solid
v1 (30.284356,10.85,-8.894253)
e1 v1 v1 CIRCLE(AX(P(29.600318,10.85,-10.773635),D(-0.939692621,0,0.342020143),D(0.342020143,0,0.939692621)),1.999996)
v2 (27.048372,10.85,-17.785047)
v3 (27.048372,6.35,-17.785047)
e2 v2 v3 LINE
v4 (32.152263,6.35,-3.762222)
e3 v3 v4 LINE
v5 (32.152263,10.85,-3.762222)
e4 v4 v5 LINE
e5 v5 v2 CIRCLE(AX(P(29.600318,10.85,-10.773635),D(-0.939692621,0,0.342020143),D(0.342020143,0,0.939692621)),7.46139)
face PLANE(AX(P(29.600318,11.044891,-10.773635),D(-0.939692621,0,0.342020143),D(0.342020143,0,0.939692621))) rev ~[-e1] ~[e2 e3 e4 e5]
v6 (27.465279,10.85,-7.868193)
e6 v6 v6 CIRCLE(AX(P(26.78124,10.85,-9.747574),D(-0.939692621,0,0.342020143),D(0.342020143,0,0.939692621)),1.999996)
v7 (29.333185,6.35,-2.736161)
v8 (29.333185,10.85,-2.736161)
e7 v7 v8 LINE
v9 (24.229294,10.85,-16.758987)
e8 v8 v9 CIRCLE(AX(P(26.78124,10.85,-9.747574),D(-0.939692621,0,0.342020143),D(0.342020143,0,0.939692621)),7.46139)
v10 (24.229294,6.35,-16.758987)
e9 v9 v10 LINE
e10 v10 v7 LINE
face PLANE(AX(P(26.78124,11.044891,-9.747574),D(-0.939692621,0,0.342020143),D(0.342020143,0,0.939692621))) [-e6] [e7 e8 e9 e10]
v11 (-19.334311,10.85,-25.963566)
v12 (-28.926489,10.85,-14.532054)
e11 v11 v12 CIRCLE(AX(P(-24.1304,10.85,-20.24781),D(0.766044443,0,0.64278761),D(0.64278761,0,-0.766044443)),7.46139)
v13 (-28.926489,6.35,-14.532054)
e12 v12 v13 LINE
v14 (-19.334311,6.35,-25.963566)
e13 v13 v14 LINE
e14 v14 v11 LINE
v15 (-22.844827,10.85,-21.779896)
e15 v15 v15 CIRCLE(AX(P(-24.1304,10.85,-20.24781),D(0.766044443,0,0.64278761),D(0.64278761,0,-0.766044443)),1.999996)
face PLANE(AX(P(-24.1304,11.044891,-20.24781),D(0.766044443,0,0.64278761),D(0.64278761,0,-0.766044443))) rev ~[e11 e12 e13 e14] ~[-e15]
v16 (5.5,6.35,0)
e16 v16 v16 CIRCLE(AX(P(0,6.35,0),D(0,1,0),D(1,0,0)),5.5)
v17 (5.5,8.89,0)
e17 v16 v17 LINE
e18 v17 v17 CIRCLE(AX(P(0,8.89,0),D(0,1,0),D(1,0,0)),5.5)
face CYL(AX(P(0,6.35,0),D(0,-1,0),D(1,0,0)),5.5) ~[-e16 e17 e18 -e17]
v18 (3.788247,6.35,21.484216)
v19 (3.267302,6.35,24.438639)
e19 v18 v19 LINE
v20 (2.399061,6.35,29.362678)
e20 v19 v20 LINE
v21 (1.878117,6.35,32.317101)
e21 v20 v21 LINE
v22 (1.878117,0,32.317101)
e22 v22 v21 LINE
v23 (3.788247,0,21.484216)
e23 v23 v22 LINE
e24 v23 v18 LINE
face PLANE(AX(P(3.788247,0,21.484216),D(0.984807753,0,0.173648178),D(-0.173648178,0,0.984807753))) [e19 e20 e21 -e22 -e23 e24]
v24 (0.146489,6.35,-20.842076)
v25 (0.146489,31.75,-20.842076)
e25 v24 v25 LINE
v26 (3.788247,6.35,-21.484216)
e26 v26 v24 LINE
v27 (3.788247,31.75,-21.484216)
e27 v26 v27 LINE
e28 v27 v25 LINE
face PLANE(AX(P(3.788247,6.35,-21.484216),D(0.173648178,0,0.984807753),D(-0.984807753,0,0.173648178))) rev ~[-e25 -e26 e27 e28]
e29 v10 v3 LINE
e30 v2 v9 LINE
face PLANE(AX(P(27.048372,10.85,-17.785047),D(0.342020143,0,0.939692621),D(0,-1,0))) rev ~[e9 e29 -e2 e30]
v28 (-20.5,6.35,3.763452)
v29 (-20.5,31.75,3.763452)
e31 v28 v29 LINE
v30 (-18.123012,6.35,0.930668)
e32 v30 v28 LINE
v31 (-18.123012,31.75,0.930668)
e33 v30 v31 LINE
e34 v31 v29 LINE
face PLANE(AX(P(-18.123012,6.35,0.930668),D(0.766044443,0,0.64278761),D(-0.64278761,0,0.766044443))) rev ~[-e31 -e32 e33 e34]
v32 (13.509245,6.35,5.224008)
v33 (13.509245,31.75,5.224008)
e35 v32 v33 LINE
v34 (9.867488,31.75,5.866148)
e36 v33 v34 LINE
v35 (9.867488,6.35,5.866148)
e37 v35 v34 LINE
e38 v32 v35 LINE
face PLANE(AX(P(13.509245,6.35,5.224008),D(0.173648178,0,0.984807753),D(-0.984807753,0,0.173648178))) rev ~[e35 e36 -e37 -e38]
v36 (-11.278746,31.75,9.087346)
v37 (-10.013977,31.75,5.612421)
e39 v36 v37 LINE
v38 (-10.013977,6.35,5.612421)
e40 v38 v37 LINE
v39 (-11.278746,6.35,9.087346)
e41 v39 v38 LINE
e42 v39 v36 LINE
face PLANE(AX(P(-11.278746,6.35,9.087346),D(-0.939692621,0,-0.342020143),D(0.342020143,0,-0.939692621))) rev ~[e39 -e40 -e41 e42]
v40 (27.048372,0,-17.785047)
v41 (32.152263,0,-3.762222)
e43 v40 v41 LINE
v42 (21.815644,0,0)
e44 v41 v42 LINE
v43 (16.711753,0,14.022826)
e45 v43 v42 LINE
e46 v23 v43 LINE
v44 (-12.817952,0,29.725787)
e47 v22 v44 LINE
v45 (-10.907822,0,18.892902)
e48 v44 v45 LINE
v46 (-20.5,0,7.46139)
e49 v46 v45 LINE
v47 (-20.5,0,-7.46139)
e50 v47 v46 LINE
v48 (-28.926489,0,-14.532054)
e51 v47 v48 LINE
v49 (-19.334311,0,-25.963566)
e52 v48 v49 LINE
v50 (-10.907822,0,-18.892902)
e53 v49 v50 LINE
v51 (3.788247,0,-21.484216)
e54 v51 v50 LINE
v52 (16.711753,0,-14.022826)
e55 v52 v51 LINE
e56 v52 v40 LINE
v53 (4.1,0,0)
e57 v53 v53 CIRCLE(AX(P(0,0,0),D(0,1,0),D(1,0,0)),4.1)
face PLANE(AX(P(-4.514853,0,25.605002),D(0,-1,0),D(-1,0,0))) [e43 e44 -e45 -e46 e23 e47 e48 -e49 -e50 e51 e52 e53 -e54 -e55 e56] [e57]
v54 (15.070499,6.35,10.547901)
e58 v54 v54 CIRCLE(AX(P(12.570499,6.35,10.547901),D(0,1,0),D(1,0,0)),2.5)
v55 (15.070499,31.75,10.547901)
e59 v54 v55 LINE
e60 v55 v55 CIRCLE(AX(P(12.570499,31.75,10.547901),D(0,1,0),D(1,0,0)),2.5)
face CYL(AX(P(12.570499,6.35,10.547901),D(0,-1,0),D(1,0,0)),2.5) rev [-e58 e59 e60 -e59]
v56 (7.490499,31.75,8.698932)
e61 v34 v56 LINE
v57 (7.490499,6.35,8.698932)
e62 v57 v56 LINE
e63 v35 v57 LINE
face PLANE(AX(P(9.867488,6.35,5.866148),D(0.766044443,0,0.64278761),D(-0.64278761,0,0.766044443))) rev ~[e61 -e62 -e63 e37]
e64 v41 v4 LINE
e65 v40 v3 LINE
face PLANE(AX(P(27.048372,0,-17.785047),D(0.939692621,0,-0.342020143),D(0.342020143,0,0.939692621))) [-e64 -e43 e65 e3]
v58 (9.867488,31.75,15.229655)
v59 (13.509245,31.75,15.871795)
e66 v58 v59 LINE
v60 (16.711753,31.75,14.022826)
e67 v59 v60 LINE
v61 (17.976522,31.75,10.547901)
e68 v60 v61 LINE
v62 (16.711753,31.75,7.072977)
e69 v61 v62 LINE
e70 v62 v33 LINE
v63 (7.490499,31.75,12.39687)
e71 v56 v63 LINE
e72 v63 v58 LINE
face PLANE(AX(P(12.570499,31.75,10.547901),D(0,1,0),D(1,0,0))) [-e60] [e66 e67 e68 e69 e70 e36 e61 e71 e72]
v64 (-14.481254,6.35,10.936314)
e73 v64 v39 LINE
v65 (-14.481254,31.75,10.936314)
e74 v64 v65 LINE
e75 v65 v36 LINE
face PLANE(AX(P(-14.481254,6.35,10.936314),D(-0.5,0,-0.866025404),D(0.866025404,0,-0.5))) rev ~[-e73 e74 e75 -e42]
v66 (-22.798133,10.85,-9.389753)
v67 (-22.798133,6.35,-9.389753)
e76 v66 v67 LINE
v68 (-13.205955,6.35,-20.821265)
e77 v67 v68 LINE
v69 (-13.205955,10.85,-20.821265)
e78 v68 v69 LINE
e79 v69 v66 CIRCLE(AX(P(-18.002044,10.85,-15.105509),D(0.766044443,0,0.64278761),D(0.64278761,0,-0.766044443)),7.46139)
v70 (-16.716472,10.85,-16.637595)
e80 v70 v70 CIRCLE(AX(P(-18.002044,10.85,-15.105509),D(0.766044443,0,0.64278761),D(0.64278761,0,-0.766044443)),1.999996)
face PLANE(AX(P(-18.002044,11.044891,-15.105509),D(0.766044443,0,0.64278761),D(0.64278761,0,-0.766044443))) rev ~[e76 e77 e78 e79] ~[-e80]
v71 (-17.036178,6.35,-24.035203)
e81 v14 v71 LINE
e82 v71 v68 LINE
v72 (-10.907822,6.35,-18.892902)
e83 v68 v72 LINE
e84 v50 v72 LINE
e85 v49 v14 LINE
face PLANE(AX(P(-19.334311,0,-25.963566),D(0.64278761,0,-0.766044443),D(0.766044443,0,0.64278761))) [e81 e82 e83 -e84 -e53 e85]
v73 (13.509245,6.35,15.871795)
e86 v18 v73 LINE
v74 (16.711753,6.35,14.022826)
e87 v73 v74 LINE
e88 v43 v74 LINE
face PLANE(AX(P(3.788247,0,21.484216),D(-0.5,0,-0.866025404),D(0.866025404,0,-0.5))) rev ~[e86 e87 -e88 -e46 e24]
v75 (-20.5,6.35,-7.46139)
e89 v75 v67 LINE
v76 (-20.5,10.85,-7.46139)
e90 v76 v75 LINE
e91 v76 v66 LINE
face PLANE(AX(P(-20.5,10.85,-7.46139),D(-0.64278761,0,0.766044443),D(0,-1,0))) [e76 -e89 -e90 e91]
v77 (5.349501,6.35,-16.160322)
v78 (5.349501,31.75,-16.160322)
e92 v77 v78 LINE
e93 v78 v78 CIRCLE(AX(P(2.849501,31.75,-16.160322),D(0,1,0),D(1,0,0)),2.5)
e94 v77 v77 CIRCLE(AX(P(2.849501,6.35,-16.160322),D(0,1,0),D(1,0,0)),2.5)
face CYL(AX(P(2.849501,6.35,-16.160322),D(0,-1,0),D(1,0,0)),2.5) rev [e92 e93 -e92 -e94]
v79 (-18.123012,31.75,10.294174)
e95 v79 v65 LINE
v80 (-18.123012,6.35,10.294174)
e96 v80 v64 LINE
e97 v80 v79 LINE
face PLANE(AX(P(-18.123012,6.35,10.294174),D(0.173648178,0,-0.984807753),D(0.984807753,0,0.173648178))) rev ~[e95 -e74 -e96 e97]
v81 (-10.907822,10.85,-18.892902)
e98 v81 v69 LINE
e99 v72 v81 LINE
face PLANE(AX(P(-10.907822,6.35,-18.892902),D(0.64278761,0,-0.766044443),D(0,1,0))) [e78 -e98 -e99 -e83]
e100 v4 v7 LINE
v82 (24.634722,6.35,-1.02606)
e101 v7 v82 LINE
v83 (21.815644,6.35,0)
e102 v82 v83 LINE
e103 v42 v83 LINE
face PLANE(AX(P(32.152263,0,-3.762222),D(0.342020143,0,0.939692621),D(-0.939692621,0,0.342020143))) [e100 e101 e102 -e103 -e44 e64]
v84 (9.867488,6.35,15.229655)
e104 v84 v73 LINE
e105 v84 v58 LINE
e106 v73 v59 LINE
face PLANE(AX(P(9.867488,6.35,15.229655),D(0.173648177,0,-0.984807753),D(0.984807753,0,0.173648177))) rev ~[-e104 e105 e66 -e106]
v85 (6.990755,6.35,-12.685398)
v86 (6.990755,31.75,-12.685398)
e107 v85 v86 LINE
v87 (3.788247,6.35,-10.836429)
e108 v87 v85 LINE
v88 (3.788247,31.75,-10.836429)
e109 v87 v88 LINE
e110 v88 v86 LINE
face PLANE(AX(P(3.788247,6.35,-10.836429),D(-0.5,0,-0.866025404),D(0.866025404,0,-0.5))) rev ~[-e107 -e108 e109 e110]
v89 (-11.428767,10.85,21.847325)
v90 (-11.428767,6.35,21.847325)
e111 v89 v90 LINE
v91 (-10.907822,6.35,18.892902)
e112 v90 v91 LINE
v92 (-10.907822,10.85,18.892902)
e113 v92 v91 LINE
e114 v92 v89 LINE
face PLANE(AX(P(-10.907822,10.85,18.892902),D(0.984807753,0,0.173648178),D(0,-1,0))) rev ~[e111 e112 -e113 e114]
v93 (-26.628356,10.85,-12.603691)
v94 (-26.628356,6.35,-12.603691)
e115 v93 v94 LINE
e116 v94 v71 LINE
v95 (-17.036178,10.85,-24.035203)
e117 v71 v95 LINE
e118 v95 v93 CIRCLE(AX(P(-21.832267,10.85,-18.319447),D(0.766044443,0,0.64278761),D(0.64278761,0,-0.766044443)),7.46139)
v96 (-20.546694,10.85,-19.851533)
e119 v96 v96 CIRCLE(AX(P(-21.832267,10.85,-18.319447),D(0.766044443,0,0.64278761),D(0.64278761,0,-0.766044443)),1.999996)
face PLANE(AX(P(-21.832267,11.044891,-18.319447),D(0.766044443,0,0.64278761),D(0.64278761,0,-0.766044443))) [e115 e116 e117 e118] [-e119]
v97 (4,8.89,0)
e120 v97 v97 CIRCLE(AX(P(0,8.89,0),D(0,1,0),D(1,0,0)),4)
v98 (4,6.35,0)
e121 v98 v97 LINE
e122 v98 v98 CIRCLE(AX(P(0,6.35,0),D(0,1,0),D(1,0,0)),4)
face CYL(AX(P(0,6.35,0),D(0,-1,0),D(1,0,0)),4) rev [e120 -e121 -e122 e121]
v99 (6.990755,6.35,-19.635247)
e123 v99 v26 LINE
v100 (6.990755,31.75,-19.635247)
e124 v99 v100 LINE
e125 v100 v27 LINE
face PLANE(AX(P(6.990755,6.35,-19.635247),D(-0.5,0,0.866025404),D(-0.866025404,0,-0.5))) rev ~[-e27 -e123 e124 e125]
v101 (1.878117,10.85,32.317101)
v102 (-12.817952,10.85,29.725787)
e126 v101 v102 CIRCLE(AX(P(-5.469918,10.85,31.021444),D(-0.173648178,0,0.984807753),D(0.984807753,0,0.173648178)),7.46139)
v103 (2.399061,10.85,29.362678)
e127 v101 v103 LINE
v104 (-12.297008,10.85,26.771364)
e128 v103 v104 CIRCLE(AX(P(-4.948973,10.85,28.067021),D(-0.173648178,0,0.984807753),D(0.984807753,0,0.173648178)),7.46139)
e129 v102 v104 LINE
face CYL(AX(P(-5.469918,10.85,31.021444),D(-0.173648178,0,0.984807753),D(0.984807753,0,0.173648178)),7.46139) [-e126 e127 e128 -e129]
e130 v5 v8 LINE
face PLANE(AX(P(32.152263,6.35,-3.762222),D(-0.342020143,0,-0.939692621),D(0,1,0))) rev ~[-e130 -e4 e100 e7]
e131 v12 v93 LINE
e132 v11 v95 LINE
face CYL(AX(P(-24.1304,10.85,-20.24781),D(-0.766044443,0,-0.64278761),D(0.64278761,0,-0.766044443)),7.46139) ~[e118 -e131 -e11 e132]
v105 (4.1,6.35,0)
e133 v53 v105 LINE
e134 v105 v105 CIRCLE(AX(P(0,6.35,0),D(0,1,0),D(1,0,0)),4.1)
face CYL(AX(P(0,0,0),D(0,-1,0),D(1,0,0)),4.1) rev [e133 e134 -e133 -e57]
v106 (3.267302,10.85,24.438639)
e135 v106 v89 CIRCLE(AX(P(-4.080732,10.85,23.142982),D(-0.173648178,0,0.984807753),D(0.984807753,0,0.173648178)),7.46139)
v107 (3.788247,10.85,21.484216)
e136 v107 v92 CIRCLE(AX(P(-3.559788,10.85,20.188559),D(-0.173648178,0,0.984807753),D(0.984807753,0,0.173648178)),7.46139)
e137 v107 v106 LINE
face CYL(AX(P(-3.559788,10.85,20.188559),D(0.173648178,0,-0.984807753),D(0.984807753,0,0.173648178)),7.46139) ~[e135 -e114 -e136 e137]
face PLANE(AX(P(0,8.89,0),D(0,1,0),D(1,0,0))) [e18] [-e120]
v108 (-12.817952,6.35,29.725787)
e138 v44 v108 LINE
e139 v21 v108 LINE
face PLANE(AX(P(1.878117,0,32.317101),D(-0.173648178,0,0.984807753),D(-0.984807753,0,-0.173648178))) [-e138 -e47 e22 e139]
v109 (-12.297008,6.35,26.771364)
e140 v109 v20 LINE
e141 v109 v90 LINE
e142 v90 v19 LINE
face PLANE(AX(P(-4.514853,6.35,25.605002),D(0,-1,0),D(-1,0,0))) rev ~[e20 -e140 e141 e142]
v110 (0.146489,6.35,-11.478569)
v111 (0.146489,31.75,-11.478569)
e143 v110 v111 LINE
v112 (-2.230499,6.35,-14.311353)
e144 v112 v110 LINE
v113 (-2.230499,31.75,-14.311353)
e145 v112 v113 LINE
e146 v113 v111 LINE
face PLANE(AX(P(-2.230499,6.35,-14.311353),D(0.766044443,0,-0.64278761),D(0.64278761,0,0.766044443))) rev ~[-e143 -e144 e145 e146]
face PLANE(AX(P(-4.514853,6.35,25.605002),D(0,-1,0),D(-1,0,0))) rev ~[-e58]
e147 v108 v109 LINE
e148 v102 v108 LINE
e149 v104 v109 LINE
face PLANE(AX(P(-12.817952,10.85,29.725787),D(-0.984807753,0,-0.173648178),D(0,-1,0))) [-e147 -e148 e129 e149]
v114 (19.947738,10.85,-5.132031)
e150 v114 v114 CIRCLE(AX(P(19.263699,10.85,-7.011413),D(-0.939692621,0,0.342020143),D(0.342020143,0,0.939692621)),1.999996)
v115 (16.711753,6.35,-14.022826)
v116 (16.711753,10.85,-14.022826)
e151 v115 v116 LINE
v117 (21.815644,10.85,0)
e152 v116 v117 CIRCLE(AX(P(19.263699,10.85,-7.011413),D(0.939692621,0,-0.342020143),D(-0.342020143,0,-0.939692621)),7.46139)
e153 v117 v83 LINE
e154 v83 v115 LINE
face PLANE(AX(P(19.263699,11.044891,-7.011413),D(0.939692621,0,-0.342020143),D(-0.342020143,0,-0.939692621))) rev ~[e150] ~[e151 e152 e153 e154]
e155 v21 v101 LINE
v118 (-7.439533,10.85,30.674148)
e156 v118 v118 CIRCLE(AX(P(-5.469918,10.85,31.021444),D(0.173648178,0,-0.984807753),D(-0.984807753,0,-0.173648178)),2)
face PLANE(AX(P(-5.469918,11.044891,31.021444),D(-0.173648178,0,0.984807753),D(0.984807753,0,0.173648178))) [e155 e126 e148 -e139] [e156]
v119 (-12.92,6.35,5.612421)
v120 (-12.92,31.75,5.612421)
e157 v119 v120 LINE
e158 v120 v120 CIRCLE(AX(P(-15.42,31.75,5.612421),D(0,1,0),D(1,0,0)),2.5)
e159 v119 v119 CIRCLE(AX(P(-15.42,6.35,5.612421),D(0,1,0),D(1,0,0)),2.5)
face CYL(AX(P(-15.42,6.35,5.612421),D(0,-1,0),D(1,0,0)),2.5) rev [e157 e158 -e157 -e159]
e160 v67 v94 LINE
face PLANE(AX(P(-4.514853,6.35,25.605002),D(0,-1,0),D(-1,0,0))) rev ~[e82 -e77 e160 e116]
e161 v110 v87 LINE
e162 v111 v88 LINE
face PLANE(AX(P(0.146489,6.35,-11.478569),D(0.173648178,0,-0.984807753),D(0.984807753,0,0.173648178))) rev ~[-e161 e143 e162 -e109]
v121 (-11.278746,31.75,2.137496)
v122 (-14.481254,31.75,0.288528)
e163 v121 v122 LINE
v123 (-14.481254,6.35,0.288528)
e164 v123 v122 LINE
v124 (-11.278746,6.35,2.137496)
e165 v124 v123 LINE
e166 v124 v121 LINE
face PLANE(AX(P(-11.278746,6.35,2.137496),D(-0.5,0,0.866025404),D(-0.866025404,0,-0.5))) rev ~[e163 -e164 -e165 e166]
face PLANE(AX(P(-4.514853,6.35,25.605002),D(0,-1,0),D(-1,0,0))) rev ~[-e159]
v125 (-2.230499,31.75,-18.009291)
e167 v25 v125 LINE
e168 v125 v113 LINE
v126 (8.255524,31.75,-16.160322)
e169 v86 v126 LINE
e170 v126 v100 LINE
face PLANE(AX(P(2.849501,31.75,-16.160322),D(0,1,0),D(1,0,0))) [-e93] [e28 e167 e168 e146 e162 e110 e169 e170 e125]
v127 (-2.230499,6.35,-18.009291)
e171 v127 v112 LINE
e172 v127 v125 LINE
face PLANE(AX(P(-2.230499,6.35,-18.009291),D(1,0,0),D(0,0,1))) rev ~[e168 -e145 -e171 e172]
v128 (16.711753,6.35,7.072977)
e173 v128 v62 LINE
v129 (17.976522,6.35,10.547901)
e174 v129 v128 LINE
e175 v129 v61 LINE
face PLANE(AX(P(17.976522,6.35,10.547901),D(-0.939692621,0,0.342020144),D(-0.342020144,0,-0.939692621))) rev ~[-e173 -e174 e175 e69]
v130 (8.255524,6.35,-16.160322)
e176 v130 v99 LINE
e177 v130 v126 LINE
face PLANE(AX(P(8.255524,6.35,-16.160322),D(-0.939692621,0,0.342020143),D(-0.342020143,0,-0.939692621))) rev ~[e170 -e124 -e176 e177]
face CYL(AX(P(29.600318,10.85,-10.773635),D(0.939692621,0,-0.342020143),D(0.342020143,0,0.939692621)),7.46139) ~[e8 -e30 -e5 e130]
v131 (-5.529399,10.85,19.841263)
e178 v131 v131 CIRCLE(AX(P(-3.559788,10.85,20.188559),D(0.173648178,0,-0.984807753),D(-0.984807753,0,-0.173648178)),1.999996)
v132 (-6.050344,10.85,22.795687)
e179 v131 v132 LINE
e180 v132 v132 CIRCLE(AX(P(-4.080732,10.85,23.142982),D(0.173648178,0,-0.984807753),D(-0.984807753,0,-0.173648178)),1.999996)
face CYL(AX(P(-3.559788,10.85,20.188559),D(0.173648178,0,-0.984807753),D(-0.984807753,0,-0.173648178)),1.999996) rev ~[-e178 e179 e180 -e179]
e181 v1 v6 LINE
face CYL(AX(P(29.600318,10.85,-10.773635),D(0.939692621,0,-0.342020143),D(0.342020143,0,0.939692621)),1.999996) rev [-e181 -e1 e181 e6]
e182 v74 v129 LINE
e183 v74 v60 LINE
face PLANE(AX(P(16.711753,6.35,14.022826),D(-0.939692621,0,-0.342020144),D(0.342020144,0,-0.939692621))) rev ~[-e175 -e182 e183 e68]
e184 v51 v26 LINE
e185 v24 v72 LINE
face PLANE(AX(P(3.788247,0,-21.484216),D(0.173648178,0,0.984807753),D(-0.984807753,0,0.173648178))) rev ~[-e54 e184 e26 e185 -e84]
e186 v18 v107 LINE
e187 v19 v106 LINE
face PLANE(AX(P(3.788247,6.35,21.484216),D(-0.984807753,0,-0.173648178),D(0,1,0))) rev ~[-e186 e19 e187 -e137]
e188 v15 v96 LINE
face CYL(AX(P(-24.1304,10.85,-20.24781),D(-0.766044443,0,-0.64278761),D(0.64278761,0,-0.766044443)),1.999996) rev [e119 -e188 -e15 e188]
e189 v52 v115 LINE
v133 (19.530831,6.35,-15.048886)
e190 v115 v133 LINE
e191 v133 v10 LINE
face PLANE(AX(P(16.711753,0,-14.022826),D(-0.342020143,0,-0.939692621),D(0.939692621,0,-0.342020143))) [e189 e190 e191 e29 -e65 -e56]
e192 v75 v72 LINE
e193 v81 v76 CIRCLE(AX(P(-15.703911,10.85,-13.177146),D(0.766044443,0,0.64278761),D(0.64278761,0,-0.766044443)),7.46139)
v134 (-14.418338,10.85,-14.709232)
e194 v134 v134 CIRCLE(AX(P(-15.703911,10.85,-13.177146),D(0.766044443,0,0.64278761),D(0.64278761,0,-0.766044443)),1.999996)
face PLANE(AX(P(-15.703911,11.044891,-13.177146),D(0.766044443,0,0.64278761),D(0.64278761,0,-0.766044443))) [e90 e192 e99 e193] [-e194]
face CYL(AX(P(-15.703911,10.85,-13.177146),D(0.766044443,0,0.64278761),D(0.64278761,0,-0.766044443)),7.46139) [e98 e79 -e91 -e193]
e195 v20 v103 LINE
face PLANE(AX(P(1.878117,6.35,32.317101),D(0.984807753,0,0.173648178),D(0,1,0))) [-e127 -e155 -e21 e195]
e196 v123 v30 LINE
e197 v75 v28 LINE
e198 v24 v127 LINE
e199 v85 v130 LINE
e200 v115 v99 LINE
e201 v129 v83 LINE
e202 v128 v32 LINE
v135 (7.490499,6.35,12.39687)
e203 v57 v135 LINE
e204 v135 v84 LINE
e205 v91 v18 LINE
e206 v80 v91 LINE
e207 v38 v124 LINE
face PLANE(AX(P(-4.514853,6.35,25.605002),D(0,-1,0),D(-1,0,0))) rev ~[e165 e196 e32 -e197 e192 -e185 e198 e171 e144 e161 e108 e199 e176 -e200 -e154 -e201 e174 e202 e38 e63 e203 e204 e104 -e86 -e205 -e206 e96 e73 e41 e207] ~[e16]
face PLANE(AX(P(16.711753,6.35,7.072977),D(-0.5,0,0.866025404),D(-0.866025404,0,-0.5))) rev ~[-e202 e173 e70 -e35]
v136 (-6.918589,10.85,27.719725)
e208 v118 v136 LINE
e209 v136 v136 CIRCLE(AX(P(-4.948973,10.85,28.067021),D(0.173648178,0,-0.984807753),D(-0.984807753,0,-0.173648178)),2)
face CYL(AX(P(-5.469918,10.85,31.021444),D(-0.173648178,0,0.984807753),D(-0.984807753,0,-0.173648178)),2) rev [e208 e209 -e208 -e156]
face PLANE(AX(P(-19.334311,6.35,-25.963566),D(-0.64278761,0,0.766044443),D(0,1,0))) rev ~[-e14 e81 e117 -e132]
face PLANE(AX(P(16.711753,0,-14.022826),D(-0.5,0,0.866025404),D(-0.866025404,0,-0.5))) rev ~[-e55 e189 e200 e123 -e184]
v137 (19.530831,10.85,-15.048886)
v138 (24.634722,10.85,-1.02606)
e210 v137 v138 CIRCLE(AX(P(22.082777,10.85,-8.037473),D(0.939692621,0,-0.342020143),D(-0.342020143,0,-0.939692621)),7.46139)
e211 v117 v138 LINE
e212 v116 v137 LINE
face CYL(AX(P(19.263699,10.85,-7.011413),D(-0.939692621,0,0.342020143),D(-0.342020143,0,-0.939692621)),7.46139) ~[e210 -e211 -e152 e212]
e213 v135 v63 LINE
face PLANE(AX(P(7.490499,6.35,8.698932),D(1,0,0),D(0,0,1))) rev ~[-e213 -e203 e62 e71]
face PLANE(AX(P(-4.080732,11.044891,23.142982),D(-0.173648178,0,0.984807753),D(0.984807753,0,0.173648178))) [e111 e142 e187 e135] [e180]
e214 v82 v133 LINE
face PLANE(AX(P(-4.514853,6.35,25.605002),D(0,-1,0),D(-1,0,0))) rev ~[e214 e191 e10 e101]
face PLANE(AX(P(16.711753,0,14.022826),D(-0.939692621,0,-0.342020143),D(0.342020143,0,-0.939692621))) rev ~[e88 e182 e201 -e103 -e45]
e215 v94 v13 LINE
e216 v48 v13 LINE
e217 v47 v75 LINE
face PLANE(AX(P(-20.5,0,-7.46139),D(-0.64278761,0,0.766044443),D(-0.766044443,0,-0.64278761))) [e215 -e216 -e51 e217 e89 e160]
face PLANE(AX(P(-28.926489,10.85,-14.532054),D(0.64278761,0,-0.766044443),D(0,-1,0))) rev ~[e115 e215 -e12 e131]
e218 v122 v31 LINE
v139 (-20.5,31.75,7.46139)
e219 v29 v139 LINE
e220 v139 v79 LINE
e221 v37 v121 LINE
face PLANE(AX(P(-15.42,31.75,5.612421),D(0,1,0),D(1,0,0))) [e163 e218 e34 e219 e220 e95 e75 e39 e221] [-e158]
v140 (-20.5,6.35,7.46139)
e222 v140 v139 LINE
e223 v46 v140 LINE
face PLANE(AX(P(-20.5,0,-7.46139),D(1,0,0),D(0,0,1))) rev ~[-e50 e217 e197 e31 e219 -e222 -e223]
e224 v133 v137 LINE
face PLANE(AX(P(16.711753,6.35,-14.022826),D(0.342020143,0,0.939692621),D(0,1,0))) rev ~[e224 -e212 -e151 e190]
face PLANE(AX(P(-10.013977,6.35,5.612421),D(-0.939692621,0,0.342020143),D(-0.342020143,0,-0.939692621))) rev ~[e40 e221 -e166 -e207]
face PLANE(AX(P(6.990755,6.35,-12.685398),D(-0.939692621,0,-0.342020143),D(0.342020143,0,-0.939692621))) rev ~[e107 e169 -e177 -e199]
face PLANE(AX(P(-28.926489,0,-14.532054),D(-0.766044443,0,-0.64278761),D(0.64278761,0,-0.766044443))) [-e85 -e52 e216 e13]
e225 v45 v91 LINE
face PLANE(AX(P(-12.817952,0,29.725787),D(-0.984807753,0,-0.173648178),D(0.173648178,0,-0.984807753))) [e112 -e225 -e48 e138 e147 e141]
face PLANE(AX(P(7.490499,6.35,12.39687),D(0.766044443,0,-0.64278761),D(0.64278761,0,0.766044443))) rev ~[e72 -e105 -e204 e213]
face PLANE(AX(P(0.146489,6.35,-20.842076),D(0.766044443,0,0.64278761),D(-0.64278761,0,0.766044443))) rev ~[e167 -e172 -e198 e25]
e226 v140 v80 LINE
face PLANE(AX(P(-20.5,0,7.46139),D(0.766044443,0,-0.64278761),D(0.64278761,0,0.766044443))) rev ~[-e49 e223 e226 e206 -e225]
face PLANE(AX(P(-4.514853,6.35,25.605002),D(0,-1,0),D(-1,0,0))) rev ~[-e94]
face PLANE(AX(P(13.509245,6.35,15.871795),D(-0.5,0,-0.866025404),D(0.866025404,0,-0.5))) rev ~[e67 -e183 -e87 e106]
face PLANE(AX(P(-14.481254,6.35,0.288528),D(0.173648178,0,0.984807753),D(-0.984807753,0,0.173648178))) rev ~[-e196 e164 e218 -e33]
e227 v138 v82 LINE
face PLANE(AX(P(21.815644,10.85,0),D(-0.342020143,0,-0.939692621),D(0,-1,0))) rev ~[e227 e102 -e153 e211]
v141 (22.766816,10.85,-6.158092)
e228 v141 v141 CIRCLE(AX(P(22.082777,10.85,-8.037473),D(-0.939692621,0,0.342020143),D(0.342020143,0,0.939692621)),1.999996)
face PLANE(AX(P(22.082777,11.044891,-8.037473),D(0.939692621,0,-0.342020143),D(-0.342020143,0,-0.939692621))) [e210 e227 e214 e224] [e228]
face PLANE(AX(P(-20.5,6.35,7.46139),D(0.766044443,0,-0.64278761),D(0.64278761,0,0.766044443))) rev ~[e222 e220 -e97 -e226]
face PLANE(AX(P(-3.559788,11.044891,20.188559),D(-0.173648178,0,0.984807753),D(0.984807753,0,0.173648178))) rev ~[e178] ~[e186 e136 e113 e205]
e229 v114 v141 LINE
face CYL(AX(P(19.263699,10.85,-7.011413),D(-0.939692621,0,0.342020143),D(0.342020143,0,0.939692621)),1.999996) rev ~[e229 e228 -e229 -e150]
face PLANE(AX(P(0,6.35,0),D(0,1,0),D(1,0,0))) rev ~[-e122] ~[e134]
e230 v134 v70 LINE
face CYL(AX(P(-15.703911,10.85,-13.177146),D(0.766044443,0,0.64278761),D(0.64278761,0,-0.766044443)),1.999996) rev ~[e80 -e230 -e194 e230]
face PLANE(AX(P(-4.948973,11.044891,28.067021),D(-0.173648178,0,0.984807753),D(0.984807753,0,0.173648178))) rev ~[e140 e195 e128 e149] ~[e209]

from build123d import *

# Parameters (mm, degrees)
SKETCH1_R            = 4.1
BOSS_EXTRUDE1_DEPTH  = 6.35
SKETCH4_R            = 2
BOSS_EXTRUDE2_DEPTH  = 3
SKETCH6_R            = 1.999996081
BOSS_EXTRUDE4_DEPTH  = 3
SKETCH8_R            = 1.999996
BOSS_EXTRUDE5_DEPTH  = 3
SKETCH9_R            = 1.999996
BOSS_EXTRUDE6_DEPTH  = 3
SKETCH10_R           = 1.999996
BOSS_EXTRUDE7_DEPTH  = 3
SKETCH11_R           = 1.999996
BOSS_EXTRUDE8_DEPTH  = 3
SKETCH12_R           = 2.5
BOSS_EXTRUDE9_DEPTH  = 25.4
SKETCH15_R           = 5.5
SKETCH15_R_2         = 4
BOSS_EXTRUDE10_DEPTH = 2.54


with BuildPart() as part:
    # Sketch1 → Boss-Extrude1 (new body)
    with BuildSketch(Plane(origin=(0, 0, 0), x_dir=(1, 0, 0), z_dir=(0, 1, 0))):
        Polygon((1.878116929, -32.317100962), (-12.817952122, -29.725787478), (-10.907822168, -18.892902195), (3.788246884, -21.484215679), align=None)
        Polygon((-10.907822168, -18.892902195), (3.788246884, -21.484215679), (16.711753116, -14.022825876), (21.815644336, 0), (16.711753116, 14.022825876), (3.788246884, 21.484215679), (-10.907822168, 18.892902195), (-20.5, 7.461389802), (-20.5, -7.461389802), align=None)
        Circle(SKETCH1_R, mode=Mode.SUBTRACT)
        Polygon((27.048371945, 17.785047453), (32.152263164, 3.762221577), (21.815644336, 0), (16.711753116, 14.022825876), align=None)
        Polygon((-28.926488874, 14.532053509), (-19.334311042, 25.963565901), (-10.907822168, 18.892902195), (-20.5, 7.461389802), align=None)
    extrude(amount=BOSS_EXTRUDE1_DEPTH)

    # Sketch4 → Boss-Extrude2 (add)
    with BuildSketch(Plane(origin=(-5.469917597, 0, 31.02144422), x_dir=(-0.984807753, 0, -0.173648178), z_dir=(0.173648178, 0, -0.984807753))):
        with BuildLine():
            Line((-7.461389802, 6.35), (-7.461389802, 10.84999989))
            ThreePointArc((-7.461389802, 10.84999989), (0, 18.311389692), (7.461389802, 10.84999989))
            Line((7.461389802, 10.84999989), (7.461389802, 6.35))
            Line((7.461389802, 6.35), (-7.461389802, 6.35))
        make_face()
        with Locations((0, 10.84999989)):
            Circle(SKETCH4_R, mode=Mode.SUBTRACT)
    extrude(amount=BOSS_EXTRUDE2_DEPTH)

    # Sketch6 → Boss-Extrude4 (add)
    with BuildSketch(Plane(origin=(-3.559787642, 0, 20.188558937), x_dir=(-0.984807753, 0, -0.173648178), z_dir=(0.173648178, 0, -0.984807753))):
        with BuildLine():
            Line((-7.461389802, 6.35), (-7.461389802, 10.85))
            ThreePointArc((-7.461389802, 10.85), (0, 18.311389802), (7.461389802, 10.85))
            Line((7.461389802, 10.85), (7.461389802, 6.35))
            Line((7.461389802, 6.35), (-7.461389802, 6.35))
        make_face()
        with Locations((0, 10.85)):
            Circle(SKETCH6_R, mode=Mode.SUBTRACT)
    extrude(amount=-BOSS_EXTRUDE4_DEPTH)

    # Sketch8 → Boss-Extrude5 (add)
    with BuildSketch(Plane(origin=(29.600317555, 0, -10.773634515), x_dir=(0.342020143, 0, 0.939692621), z_dir=(-0.939692621, 0, 0.342020143))):
        with BuildLine():
            Line((-7.461389802, 10.85), (-7.461389802, 6.35))
            Line((-7.461389802, 6.35), (7.461389802, 6.35))
            Line((7.461389802, 6.35), (7.461389802, 10.85))
            ThreePointArc((7.461389802, 10.85), (0, 18.311389802), (-7.461389802, 10.85))
        make_face()
        with Locations((0, 10.85)):
            Circle(SKETCH8_R, mode=Mode.SUBTRACT)
    extrude(amount=BOSS_EXTRUDE5_DEPTH)

    # Sketch9 → Boss-Extrude6 (add)
    with BuildSketch(Plane(origin=(19.263698726, 0, -7.011412938), x_dir=(0.342020143, 0, 0.939692621), z_dir=(-0.939692621, 0, 0.342020143))):
        with BuildLine():
            Line((-7.461389802, 6.35), (-7.461389802, 10.85))
            ThreePointArc((-7.461389802, 10.85), (0, 18.311389802), (7.461389802, 10.85))
            Line((7.461389802, 10.85), (7.461389802, 6.35))
            Line((7.461389802, 6.35), (-7.461389802, 6.35))
        make_face()
        with Locations((0, 10.85)):
            Circle(SKETCH9_R, mode=Mode.SUBTRACT)
    extrude(amount=-BOSS_EXTRUDE6_DEPTH)

    # Sketch10 → Boss-Extrude7 (add)
    with BuildSketch(Plane(origin=(-24.130399958, 0, -20.247809705), x_dir=(0.64278761, 0, -0.766044443), z_dir=(0.766044443, 0, 0.64278761))):
        with BuildLine():
            Line((-7.461389802, 10.85), (-7.461389802, 6.35))
            Line((-7.461389802, 6.35), (7.461389802, 6.35))
            Line((7.461389802, 6.35), (7.461389802, 10.85))
            ThreePointArc((7.461389802, 10.85), (0, 18.311389802), (-7.461389802, 10.85))
        make_face()
        with Locations((0, 10.85)):
            Circle(SKETCH10_R, mode=Mode.SUBTRACT)
    extrude(amount=BOSS_EXTRUDE7_DEPTH)

    # Sketch11 → Boss-Extrude8 (add)
    with BuildSketch(Plane(origin=(-15.703911084, 0, -13.177145999), x_dir=(0.64278761, 0, -0.766044443), z_dir=(0.766044443, 0, 0.64278761))):
        with BuildLine():
            Line((-7.461389802, 10.85), (-7.461389802, 6.35))
            Line((-7.461389802, 6.35), (7.461389802, 6.35))
            Line((7.461389802, 6.35), (7.461389802, 10.85))
            ThreePointArc((7.461389802, 10.85), (0, 18.311389802), (-7.461389802, 10.85))
        make_face()
        with Locations((0, 10.85)):
            Circle(SKETCH11_R, mode=Mode.SUBTRACT)
    extrude(amount=-BOSS_EXTRUDE8_DEPTH)

    # Sketch12 → Boss-Extrude9 (add)
    with BuildSketch(Plane(origin=(0, 6.35, 0), x_dir=(1, 0, 0), z_dir=(0, 1, 0))):
        Polygon((16.711753116, -14.022825876), (17.976522258, -10.54790122), (16.711753116, -7.072976564), (13.50924523, -5.224007774), (9.867487631, -5.866147896), (7.490499173, -8.69893243), (7.490499173, -12.39687001), (9.867487631, -15.229654545), (13.50924523, -15.871794666), align=None)
        with Locations((12.570499173, -10.54790122)):
            Circle(SKETCH12_R, mode=Mode.SUBTRACT)
        Polygon((6.99075477, 12.685397576), (8.255523911, 16.160322233), (6.99075477, 19.635246889), (3.788246884, 21.484215679), (0.146489284, 20.842075557), (-2.230499173, 18.009291023), (-2.230499173, 14.311353442), (0.146489284, 11.478568908), (3.788246884, 10.836428786), align=None)
        with Locations((2.849500827, 16.160322233)):
            Circle(SKETCH12_R, mode=Mode.SUBTRACT)
        Polygon((-20.5, -7.461389802), (-18.123011542, -10.294174337), (-14.481253943, -10.936314459), (-11.278746057, -9.087345669), (-10.013976916, -5.612421012), (-11.278746057, -2.137496356), (-14.481253943, -0.288527566), (-18.123011542, -0.930667688), (-20.5, -3.763452222), align=None)
        with Locations((-15.42, -5.612421012)):
            Circle(SKETCH12_R, mode=Mode.SUBTRACT)
    extrude(amount=BOSS_EXTRUDE9_DEPTH)

    # Sketch15 → Boss-Extrude10 (add)
    with BuildSketch(Plane(origin=(0, 6.35, 0), x_dir=(1, 0, 0), z_dir=(0, 1, 0))):
        Circle(SKETCH15_R)
        Circle(SKETCH15_R_2, mode=Mode.SUBTRACT)
    extrude(amount=BOSS_EXTRUDE10_DEPTH)


solid = part.part
